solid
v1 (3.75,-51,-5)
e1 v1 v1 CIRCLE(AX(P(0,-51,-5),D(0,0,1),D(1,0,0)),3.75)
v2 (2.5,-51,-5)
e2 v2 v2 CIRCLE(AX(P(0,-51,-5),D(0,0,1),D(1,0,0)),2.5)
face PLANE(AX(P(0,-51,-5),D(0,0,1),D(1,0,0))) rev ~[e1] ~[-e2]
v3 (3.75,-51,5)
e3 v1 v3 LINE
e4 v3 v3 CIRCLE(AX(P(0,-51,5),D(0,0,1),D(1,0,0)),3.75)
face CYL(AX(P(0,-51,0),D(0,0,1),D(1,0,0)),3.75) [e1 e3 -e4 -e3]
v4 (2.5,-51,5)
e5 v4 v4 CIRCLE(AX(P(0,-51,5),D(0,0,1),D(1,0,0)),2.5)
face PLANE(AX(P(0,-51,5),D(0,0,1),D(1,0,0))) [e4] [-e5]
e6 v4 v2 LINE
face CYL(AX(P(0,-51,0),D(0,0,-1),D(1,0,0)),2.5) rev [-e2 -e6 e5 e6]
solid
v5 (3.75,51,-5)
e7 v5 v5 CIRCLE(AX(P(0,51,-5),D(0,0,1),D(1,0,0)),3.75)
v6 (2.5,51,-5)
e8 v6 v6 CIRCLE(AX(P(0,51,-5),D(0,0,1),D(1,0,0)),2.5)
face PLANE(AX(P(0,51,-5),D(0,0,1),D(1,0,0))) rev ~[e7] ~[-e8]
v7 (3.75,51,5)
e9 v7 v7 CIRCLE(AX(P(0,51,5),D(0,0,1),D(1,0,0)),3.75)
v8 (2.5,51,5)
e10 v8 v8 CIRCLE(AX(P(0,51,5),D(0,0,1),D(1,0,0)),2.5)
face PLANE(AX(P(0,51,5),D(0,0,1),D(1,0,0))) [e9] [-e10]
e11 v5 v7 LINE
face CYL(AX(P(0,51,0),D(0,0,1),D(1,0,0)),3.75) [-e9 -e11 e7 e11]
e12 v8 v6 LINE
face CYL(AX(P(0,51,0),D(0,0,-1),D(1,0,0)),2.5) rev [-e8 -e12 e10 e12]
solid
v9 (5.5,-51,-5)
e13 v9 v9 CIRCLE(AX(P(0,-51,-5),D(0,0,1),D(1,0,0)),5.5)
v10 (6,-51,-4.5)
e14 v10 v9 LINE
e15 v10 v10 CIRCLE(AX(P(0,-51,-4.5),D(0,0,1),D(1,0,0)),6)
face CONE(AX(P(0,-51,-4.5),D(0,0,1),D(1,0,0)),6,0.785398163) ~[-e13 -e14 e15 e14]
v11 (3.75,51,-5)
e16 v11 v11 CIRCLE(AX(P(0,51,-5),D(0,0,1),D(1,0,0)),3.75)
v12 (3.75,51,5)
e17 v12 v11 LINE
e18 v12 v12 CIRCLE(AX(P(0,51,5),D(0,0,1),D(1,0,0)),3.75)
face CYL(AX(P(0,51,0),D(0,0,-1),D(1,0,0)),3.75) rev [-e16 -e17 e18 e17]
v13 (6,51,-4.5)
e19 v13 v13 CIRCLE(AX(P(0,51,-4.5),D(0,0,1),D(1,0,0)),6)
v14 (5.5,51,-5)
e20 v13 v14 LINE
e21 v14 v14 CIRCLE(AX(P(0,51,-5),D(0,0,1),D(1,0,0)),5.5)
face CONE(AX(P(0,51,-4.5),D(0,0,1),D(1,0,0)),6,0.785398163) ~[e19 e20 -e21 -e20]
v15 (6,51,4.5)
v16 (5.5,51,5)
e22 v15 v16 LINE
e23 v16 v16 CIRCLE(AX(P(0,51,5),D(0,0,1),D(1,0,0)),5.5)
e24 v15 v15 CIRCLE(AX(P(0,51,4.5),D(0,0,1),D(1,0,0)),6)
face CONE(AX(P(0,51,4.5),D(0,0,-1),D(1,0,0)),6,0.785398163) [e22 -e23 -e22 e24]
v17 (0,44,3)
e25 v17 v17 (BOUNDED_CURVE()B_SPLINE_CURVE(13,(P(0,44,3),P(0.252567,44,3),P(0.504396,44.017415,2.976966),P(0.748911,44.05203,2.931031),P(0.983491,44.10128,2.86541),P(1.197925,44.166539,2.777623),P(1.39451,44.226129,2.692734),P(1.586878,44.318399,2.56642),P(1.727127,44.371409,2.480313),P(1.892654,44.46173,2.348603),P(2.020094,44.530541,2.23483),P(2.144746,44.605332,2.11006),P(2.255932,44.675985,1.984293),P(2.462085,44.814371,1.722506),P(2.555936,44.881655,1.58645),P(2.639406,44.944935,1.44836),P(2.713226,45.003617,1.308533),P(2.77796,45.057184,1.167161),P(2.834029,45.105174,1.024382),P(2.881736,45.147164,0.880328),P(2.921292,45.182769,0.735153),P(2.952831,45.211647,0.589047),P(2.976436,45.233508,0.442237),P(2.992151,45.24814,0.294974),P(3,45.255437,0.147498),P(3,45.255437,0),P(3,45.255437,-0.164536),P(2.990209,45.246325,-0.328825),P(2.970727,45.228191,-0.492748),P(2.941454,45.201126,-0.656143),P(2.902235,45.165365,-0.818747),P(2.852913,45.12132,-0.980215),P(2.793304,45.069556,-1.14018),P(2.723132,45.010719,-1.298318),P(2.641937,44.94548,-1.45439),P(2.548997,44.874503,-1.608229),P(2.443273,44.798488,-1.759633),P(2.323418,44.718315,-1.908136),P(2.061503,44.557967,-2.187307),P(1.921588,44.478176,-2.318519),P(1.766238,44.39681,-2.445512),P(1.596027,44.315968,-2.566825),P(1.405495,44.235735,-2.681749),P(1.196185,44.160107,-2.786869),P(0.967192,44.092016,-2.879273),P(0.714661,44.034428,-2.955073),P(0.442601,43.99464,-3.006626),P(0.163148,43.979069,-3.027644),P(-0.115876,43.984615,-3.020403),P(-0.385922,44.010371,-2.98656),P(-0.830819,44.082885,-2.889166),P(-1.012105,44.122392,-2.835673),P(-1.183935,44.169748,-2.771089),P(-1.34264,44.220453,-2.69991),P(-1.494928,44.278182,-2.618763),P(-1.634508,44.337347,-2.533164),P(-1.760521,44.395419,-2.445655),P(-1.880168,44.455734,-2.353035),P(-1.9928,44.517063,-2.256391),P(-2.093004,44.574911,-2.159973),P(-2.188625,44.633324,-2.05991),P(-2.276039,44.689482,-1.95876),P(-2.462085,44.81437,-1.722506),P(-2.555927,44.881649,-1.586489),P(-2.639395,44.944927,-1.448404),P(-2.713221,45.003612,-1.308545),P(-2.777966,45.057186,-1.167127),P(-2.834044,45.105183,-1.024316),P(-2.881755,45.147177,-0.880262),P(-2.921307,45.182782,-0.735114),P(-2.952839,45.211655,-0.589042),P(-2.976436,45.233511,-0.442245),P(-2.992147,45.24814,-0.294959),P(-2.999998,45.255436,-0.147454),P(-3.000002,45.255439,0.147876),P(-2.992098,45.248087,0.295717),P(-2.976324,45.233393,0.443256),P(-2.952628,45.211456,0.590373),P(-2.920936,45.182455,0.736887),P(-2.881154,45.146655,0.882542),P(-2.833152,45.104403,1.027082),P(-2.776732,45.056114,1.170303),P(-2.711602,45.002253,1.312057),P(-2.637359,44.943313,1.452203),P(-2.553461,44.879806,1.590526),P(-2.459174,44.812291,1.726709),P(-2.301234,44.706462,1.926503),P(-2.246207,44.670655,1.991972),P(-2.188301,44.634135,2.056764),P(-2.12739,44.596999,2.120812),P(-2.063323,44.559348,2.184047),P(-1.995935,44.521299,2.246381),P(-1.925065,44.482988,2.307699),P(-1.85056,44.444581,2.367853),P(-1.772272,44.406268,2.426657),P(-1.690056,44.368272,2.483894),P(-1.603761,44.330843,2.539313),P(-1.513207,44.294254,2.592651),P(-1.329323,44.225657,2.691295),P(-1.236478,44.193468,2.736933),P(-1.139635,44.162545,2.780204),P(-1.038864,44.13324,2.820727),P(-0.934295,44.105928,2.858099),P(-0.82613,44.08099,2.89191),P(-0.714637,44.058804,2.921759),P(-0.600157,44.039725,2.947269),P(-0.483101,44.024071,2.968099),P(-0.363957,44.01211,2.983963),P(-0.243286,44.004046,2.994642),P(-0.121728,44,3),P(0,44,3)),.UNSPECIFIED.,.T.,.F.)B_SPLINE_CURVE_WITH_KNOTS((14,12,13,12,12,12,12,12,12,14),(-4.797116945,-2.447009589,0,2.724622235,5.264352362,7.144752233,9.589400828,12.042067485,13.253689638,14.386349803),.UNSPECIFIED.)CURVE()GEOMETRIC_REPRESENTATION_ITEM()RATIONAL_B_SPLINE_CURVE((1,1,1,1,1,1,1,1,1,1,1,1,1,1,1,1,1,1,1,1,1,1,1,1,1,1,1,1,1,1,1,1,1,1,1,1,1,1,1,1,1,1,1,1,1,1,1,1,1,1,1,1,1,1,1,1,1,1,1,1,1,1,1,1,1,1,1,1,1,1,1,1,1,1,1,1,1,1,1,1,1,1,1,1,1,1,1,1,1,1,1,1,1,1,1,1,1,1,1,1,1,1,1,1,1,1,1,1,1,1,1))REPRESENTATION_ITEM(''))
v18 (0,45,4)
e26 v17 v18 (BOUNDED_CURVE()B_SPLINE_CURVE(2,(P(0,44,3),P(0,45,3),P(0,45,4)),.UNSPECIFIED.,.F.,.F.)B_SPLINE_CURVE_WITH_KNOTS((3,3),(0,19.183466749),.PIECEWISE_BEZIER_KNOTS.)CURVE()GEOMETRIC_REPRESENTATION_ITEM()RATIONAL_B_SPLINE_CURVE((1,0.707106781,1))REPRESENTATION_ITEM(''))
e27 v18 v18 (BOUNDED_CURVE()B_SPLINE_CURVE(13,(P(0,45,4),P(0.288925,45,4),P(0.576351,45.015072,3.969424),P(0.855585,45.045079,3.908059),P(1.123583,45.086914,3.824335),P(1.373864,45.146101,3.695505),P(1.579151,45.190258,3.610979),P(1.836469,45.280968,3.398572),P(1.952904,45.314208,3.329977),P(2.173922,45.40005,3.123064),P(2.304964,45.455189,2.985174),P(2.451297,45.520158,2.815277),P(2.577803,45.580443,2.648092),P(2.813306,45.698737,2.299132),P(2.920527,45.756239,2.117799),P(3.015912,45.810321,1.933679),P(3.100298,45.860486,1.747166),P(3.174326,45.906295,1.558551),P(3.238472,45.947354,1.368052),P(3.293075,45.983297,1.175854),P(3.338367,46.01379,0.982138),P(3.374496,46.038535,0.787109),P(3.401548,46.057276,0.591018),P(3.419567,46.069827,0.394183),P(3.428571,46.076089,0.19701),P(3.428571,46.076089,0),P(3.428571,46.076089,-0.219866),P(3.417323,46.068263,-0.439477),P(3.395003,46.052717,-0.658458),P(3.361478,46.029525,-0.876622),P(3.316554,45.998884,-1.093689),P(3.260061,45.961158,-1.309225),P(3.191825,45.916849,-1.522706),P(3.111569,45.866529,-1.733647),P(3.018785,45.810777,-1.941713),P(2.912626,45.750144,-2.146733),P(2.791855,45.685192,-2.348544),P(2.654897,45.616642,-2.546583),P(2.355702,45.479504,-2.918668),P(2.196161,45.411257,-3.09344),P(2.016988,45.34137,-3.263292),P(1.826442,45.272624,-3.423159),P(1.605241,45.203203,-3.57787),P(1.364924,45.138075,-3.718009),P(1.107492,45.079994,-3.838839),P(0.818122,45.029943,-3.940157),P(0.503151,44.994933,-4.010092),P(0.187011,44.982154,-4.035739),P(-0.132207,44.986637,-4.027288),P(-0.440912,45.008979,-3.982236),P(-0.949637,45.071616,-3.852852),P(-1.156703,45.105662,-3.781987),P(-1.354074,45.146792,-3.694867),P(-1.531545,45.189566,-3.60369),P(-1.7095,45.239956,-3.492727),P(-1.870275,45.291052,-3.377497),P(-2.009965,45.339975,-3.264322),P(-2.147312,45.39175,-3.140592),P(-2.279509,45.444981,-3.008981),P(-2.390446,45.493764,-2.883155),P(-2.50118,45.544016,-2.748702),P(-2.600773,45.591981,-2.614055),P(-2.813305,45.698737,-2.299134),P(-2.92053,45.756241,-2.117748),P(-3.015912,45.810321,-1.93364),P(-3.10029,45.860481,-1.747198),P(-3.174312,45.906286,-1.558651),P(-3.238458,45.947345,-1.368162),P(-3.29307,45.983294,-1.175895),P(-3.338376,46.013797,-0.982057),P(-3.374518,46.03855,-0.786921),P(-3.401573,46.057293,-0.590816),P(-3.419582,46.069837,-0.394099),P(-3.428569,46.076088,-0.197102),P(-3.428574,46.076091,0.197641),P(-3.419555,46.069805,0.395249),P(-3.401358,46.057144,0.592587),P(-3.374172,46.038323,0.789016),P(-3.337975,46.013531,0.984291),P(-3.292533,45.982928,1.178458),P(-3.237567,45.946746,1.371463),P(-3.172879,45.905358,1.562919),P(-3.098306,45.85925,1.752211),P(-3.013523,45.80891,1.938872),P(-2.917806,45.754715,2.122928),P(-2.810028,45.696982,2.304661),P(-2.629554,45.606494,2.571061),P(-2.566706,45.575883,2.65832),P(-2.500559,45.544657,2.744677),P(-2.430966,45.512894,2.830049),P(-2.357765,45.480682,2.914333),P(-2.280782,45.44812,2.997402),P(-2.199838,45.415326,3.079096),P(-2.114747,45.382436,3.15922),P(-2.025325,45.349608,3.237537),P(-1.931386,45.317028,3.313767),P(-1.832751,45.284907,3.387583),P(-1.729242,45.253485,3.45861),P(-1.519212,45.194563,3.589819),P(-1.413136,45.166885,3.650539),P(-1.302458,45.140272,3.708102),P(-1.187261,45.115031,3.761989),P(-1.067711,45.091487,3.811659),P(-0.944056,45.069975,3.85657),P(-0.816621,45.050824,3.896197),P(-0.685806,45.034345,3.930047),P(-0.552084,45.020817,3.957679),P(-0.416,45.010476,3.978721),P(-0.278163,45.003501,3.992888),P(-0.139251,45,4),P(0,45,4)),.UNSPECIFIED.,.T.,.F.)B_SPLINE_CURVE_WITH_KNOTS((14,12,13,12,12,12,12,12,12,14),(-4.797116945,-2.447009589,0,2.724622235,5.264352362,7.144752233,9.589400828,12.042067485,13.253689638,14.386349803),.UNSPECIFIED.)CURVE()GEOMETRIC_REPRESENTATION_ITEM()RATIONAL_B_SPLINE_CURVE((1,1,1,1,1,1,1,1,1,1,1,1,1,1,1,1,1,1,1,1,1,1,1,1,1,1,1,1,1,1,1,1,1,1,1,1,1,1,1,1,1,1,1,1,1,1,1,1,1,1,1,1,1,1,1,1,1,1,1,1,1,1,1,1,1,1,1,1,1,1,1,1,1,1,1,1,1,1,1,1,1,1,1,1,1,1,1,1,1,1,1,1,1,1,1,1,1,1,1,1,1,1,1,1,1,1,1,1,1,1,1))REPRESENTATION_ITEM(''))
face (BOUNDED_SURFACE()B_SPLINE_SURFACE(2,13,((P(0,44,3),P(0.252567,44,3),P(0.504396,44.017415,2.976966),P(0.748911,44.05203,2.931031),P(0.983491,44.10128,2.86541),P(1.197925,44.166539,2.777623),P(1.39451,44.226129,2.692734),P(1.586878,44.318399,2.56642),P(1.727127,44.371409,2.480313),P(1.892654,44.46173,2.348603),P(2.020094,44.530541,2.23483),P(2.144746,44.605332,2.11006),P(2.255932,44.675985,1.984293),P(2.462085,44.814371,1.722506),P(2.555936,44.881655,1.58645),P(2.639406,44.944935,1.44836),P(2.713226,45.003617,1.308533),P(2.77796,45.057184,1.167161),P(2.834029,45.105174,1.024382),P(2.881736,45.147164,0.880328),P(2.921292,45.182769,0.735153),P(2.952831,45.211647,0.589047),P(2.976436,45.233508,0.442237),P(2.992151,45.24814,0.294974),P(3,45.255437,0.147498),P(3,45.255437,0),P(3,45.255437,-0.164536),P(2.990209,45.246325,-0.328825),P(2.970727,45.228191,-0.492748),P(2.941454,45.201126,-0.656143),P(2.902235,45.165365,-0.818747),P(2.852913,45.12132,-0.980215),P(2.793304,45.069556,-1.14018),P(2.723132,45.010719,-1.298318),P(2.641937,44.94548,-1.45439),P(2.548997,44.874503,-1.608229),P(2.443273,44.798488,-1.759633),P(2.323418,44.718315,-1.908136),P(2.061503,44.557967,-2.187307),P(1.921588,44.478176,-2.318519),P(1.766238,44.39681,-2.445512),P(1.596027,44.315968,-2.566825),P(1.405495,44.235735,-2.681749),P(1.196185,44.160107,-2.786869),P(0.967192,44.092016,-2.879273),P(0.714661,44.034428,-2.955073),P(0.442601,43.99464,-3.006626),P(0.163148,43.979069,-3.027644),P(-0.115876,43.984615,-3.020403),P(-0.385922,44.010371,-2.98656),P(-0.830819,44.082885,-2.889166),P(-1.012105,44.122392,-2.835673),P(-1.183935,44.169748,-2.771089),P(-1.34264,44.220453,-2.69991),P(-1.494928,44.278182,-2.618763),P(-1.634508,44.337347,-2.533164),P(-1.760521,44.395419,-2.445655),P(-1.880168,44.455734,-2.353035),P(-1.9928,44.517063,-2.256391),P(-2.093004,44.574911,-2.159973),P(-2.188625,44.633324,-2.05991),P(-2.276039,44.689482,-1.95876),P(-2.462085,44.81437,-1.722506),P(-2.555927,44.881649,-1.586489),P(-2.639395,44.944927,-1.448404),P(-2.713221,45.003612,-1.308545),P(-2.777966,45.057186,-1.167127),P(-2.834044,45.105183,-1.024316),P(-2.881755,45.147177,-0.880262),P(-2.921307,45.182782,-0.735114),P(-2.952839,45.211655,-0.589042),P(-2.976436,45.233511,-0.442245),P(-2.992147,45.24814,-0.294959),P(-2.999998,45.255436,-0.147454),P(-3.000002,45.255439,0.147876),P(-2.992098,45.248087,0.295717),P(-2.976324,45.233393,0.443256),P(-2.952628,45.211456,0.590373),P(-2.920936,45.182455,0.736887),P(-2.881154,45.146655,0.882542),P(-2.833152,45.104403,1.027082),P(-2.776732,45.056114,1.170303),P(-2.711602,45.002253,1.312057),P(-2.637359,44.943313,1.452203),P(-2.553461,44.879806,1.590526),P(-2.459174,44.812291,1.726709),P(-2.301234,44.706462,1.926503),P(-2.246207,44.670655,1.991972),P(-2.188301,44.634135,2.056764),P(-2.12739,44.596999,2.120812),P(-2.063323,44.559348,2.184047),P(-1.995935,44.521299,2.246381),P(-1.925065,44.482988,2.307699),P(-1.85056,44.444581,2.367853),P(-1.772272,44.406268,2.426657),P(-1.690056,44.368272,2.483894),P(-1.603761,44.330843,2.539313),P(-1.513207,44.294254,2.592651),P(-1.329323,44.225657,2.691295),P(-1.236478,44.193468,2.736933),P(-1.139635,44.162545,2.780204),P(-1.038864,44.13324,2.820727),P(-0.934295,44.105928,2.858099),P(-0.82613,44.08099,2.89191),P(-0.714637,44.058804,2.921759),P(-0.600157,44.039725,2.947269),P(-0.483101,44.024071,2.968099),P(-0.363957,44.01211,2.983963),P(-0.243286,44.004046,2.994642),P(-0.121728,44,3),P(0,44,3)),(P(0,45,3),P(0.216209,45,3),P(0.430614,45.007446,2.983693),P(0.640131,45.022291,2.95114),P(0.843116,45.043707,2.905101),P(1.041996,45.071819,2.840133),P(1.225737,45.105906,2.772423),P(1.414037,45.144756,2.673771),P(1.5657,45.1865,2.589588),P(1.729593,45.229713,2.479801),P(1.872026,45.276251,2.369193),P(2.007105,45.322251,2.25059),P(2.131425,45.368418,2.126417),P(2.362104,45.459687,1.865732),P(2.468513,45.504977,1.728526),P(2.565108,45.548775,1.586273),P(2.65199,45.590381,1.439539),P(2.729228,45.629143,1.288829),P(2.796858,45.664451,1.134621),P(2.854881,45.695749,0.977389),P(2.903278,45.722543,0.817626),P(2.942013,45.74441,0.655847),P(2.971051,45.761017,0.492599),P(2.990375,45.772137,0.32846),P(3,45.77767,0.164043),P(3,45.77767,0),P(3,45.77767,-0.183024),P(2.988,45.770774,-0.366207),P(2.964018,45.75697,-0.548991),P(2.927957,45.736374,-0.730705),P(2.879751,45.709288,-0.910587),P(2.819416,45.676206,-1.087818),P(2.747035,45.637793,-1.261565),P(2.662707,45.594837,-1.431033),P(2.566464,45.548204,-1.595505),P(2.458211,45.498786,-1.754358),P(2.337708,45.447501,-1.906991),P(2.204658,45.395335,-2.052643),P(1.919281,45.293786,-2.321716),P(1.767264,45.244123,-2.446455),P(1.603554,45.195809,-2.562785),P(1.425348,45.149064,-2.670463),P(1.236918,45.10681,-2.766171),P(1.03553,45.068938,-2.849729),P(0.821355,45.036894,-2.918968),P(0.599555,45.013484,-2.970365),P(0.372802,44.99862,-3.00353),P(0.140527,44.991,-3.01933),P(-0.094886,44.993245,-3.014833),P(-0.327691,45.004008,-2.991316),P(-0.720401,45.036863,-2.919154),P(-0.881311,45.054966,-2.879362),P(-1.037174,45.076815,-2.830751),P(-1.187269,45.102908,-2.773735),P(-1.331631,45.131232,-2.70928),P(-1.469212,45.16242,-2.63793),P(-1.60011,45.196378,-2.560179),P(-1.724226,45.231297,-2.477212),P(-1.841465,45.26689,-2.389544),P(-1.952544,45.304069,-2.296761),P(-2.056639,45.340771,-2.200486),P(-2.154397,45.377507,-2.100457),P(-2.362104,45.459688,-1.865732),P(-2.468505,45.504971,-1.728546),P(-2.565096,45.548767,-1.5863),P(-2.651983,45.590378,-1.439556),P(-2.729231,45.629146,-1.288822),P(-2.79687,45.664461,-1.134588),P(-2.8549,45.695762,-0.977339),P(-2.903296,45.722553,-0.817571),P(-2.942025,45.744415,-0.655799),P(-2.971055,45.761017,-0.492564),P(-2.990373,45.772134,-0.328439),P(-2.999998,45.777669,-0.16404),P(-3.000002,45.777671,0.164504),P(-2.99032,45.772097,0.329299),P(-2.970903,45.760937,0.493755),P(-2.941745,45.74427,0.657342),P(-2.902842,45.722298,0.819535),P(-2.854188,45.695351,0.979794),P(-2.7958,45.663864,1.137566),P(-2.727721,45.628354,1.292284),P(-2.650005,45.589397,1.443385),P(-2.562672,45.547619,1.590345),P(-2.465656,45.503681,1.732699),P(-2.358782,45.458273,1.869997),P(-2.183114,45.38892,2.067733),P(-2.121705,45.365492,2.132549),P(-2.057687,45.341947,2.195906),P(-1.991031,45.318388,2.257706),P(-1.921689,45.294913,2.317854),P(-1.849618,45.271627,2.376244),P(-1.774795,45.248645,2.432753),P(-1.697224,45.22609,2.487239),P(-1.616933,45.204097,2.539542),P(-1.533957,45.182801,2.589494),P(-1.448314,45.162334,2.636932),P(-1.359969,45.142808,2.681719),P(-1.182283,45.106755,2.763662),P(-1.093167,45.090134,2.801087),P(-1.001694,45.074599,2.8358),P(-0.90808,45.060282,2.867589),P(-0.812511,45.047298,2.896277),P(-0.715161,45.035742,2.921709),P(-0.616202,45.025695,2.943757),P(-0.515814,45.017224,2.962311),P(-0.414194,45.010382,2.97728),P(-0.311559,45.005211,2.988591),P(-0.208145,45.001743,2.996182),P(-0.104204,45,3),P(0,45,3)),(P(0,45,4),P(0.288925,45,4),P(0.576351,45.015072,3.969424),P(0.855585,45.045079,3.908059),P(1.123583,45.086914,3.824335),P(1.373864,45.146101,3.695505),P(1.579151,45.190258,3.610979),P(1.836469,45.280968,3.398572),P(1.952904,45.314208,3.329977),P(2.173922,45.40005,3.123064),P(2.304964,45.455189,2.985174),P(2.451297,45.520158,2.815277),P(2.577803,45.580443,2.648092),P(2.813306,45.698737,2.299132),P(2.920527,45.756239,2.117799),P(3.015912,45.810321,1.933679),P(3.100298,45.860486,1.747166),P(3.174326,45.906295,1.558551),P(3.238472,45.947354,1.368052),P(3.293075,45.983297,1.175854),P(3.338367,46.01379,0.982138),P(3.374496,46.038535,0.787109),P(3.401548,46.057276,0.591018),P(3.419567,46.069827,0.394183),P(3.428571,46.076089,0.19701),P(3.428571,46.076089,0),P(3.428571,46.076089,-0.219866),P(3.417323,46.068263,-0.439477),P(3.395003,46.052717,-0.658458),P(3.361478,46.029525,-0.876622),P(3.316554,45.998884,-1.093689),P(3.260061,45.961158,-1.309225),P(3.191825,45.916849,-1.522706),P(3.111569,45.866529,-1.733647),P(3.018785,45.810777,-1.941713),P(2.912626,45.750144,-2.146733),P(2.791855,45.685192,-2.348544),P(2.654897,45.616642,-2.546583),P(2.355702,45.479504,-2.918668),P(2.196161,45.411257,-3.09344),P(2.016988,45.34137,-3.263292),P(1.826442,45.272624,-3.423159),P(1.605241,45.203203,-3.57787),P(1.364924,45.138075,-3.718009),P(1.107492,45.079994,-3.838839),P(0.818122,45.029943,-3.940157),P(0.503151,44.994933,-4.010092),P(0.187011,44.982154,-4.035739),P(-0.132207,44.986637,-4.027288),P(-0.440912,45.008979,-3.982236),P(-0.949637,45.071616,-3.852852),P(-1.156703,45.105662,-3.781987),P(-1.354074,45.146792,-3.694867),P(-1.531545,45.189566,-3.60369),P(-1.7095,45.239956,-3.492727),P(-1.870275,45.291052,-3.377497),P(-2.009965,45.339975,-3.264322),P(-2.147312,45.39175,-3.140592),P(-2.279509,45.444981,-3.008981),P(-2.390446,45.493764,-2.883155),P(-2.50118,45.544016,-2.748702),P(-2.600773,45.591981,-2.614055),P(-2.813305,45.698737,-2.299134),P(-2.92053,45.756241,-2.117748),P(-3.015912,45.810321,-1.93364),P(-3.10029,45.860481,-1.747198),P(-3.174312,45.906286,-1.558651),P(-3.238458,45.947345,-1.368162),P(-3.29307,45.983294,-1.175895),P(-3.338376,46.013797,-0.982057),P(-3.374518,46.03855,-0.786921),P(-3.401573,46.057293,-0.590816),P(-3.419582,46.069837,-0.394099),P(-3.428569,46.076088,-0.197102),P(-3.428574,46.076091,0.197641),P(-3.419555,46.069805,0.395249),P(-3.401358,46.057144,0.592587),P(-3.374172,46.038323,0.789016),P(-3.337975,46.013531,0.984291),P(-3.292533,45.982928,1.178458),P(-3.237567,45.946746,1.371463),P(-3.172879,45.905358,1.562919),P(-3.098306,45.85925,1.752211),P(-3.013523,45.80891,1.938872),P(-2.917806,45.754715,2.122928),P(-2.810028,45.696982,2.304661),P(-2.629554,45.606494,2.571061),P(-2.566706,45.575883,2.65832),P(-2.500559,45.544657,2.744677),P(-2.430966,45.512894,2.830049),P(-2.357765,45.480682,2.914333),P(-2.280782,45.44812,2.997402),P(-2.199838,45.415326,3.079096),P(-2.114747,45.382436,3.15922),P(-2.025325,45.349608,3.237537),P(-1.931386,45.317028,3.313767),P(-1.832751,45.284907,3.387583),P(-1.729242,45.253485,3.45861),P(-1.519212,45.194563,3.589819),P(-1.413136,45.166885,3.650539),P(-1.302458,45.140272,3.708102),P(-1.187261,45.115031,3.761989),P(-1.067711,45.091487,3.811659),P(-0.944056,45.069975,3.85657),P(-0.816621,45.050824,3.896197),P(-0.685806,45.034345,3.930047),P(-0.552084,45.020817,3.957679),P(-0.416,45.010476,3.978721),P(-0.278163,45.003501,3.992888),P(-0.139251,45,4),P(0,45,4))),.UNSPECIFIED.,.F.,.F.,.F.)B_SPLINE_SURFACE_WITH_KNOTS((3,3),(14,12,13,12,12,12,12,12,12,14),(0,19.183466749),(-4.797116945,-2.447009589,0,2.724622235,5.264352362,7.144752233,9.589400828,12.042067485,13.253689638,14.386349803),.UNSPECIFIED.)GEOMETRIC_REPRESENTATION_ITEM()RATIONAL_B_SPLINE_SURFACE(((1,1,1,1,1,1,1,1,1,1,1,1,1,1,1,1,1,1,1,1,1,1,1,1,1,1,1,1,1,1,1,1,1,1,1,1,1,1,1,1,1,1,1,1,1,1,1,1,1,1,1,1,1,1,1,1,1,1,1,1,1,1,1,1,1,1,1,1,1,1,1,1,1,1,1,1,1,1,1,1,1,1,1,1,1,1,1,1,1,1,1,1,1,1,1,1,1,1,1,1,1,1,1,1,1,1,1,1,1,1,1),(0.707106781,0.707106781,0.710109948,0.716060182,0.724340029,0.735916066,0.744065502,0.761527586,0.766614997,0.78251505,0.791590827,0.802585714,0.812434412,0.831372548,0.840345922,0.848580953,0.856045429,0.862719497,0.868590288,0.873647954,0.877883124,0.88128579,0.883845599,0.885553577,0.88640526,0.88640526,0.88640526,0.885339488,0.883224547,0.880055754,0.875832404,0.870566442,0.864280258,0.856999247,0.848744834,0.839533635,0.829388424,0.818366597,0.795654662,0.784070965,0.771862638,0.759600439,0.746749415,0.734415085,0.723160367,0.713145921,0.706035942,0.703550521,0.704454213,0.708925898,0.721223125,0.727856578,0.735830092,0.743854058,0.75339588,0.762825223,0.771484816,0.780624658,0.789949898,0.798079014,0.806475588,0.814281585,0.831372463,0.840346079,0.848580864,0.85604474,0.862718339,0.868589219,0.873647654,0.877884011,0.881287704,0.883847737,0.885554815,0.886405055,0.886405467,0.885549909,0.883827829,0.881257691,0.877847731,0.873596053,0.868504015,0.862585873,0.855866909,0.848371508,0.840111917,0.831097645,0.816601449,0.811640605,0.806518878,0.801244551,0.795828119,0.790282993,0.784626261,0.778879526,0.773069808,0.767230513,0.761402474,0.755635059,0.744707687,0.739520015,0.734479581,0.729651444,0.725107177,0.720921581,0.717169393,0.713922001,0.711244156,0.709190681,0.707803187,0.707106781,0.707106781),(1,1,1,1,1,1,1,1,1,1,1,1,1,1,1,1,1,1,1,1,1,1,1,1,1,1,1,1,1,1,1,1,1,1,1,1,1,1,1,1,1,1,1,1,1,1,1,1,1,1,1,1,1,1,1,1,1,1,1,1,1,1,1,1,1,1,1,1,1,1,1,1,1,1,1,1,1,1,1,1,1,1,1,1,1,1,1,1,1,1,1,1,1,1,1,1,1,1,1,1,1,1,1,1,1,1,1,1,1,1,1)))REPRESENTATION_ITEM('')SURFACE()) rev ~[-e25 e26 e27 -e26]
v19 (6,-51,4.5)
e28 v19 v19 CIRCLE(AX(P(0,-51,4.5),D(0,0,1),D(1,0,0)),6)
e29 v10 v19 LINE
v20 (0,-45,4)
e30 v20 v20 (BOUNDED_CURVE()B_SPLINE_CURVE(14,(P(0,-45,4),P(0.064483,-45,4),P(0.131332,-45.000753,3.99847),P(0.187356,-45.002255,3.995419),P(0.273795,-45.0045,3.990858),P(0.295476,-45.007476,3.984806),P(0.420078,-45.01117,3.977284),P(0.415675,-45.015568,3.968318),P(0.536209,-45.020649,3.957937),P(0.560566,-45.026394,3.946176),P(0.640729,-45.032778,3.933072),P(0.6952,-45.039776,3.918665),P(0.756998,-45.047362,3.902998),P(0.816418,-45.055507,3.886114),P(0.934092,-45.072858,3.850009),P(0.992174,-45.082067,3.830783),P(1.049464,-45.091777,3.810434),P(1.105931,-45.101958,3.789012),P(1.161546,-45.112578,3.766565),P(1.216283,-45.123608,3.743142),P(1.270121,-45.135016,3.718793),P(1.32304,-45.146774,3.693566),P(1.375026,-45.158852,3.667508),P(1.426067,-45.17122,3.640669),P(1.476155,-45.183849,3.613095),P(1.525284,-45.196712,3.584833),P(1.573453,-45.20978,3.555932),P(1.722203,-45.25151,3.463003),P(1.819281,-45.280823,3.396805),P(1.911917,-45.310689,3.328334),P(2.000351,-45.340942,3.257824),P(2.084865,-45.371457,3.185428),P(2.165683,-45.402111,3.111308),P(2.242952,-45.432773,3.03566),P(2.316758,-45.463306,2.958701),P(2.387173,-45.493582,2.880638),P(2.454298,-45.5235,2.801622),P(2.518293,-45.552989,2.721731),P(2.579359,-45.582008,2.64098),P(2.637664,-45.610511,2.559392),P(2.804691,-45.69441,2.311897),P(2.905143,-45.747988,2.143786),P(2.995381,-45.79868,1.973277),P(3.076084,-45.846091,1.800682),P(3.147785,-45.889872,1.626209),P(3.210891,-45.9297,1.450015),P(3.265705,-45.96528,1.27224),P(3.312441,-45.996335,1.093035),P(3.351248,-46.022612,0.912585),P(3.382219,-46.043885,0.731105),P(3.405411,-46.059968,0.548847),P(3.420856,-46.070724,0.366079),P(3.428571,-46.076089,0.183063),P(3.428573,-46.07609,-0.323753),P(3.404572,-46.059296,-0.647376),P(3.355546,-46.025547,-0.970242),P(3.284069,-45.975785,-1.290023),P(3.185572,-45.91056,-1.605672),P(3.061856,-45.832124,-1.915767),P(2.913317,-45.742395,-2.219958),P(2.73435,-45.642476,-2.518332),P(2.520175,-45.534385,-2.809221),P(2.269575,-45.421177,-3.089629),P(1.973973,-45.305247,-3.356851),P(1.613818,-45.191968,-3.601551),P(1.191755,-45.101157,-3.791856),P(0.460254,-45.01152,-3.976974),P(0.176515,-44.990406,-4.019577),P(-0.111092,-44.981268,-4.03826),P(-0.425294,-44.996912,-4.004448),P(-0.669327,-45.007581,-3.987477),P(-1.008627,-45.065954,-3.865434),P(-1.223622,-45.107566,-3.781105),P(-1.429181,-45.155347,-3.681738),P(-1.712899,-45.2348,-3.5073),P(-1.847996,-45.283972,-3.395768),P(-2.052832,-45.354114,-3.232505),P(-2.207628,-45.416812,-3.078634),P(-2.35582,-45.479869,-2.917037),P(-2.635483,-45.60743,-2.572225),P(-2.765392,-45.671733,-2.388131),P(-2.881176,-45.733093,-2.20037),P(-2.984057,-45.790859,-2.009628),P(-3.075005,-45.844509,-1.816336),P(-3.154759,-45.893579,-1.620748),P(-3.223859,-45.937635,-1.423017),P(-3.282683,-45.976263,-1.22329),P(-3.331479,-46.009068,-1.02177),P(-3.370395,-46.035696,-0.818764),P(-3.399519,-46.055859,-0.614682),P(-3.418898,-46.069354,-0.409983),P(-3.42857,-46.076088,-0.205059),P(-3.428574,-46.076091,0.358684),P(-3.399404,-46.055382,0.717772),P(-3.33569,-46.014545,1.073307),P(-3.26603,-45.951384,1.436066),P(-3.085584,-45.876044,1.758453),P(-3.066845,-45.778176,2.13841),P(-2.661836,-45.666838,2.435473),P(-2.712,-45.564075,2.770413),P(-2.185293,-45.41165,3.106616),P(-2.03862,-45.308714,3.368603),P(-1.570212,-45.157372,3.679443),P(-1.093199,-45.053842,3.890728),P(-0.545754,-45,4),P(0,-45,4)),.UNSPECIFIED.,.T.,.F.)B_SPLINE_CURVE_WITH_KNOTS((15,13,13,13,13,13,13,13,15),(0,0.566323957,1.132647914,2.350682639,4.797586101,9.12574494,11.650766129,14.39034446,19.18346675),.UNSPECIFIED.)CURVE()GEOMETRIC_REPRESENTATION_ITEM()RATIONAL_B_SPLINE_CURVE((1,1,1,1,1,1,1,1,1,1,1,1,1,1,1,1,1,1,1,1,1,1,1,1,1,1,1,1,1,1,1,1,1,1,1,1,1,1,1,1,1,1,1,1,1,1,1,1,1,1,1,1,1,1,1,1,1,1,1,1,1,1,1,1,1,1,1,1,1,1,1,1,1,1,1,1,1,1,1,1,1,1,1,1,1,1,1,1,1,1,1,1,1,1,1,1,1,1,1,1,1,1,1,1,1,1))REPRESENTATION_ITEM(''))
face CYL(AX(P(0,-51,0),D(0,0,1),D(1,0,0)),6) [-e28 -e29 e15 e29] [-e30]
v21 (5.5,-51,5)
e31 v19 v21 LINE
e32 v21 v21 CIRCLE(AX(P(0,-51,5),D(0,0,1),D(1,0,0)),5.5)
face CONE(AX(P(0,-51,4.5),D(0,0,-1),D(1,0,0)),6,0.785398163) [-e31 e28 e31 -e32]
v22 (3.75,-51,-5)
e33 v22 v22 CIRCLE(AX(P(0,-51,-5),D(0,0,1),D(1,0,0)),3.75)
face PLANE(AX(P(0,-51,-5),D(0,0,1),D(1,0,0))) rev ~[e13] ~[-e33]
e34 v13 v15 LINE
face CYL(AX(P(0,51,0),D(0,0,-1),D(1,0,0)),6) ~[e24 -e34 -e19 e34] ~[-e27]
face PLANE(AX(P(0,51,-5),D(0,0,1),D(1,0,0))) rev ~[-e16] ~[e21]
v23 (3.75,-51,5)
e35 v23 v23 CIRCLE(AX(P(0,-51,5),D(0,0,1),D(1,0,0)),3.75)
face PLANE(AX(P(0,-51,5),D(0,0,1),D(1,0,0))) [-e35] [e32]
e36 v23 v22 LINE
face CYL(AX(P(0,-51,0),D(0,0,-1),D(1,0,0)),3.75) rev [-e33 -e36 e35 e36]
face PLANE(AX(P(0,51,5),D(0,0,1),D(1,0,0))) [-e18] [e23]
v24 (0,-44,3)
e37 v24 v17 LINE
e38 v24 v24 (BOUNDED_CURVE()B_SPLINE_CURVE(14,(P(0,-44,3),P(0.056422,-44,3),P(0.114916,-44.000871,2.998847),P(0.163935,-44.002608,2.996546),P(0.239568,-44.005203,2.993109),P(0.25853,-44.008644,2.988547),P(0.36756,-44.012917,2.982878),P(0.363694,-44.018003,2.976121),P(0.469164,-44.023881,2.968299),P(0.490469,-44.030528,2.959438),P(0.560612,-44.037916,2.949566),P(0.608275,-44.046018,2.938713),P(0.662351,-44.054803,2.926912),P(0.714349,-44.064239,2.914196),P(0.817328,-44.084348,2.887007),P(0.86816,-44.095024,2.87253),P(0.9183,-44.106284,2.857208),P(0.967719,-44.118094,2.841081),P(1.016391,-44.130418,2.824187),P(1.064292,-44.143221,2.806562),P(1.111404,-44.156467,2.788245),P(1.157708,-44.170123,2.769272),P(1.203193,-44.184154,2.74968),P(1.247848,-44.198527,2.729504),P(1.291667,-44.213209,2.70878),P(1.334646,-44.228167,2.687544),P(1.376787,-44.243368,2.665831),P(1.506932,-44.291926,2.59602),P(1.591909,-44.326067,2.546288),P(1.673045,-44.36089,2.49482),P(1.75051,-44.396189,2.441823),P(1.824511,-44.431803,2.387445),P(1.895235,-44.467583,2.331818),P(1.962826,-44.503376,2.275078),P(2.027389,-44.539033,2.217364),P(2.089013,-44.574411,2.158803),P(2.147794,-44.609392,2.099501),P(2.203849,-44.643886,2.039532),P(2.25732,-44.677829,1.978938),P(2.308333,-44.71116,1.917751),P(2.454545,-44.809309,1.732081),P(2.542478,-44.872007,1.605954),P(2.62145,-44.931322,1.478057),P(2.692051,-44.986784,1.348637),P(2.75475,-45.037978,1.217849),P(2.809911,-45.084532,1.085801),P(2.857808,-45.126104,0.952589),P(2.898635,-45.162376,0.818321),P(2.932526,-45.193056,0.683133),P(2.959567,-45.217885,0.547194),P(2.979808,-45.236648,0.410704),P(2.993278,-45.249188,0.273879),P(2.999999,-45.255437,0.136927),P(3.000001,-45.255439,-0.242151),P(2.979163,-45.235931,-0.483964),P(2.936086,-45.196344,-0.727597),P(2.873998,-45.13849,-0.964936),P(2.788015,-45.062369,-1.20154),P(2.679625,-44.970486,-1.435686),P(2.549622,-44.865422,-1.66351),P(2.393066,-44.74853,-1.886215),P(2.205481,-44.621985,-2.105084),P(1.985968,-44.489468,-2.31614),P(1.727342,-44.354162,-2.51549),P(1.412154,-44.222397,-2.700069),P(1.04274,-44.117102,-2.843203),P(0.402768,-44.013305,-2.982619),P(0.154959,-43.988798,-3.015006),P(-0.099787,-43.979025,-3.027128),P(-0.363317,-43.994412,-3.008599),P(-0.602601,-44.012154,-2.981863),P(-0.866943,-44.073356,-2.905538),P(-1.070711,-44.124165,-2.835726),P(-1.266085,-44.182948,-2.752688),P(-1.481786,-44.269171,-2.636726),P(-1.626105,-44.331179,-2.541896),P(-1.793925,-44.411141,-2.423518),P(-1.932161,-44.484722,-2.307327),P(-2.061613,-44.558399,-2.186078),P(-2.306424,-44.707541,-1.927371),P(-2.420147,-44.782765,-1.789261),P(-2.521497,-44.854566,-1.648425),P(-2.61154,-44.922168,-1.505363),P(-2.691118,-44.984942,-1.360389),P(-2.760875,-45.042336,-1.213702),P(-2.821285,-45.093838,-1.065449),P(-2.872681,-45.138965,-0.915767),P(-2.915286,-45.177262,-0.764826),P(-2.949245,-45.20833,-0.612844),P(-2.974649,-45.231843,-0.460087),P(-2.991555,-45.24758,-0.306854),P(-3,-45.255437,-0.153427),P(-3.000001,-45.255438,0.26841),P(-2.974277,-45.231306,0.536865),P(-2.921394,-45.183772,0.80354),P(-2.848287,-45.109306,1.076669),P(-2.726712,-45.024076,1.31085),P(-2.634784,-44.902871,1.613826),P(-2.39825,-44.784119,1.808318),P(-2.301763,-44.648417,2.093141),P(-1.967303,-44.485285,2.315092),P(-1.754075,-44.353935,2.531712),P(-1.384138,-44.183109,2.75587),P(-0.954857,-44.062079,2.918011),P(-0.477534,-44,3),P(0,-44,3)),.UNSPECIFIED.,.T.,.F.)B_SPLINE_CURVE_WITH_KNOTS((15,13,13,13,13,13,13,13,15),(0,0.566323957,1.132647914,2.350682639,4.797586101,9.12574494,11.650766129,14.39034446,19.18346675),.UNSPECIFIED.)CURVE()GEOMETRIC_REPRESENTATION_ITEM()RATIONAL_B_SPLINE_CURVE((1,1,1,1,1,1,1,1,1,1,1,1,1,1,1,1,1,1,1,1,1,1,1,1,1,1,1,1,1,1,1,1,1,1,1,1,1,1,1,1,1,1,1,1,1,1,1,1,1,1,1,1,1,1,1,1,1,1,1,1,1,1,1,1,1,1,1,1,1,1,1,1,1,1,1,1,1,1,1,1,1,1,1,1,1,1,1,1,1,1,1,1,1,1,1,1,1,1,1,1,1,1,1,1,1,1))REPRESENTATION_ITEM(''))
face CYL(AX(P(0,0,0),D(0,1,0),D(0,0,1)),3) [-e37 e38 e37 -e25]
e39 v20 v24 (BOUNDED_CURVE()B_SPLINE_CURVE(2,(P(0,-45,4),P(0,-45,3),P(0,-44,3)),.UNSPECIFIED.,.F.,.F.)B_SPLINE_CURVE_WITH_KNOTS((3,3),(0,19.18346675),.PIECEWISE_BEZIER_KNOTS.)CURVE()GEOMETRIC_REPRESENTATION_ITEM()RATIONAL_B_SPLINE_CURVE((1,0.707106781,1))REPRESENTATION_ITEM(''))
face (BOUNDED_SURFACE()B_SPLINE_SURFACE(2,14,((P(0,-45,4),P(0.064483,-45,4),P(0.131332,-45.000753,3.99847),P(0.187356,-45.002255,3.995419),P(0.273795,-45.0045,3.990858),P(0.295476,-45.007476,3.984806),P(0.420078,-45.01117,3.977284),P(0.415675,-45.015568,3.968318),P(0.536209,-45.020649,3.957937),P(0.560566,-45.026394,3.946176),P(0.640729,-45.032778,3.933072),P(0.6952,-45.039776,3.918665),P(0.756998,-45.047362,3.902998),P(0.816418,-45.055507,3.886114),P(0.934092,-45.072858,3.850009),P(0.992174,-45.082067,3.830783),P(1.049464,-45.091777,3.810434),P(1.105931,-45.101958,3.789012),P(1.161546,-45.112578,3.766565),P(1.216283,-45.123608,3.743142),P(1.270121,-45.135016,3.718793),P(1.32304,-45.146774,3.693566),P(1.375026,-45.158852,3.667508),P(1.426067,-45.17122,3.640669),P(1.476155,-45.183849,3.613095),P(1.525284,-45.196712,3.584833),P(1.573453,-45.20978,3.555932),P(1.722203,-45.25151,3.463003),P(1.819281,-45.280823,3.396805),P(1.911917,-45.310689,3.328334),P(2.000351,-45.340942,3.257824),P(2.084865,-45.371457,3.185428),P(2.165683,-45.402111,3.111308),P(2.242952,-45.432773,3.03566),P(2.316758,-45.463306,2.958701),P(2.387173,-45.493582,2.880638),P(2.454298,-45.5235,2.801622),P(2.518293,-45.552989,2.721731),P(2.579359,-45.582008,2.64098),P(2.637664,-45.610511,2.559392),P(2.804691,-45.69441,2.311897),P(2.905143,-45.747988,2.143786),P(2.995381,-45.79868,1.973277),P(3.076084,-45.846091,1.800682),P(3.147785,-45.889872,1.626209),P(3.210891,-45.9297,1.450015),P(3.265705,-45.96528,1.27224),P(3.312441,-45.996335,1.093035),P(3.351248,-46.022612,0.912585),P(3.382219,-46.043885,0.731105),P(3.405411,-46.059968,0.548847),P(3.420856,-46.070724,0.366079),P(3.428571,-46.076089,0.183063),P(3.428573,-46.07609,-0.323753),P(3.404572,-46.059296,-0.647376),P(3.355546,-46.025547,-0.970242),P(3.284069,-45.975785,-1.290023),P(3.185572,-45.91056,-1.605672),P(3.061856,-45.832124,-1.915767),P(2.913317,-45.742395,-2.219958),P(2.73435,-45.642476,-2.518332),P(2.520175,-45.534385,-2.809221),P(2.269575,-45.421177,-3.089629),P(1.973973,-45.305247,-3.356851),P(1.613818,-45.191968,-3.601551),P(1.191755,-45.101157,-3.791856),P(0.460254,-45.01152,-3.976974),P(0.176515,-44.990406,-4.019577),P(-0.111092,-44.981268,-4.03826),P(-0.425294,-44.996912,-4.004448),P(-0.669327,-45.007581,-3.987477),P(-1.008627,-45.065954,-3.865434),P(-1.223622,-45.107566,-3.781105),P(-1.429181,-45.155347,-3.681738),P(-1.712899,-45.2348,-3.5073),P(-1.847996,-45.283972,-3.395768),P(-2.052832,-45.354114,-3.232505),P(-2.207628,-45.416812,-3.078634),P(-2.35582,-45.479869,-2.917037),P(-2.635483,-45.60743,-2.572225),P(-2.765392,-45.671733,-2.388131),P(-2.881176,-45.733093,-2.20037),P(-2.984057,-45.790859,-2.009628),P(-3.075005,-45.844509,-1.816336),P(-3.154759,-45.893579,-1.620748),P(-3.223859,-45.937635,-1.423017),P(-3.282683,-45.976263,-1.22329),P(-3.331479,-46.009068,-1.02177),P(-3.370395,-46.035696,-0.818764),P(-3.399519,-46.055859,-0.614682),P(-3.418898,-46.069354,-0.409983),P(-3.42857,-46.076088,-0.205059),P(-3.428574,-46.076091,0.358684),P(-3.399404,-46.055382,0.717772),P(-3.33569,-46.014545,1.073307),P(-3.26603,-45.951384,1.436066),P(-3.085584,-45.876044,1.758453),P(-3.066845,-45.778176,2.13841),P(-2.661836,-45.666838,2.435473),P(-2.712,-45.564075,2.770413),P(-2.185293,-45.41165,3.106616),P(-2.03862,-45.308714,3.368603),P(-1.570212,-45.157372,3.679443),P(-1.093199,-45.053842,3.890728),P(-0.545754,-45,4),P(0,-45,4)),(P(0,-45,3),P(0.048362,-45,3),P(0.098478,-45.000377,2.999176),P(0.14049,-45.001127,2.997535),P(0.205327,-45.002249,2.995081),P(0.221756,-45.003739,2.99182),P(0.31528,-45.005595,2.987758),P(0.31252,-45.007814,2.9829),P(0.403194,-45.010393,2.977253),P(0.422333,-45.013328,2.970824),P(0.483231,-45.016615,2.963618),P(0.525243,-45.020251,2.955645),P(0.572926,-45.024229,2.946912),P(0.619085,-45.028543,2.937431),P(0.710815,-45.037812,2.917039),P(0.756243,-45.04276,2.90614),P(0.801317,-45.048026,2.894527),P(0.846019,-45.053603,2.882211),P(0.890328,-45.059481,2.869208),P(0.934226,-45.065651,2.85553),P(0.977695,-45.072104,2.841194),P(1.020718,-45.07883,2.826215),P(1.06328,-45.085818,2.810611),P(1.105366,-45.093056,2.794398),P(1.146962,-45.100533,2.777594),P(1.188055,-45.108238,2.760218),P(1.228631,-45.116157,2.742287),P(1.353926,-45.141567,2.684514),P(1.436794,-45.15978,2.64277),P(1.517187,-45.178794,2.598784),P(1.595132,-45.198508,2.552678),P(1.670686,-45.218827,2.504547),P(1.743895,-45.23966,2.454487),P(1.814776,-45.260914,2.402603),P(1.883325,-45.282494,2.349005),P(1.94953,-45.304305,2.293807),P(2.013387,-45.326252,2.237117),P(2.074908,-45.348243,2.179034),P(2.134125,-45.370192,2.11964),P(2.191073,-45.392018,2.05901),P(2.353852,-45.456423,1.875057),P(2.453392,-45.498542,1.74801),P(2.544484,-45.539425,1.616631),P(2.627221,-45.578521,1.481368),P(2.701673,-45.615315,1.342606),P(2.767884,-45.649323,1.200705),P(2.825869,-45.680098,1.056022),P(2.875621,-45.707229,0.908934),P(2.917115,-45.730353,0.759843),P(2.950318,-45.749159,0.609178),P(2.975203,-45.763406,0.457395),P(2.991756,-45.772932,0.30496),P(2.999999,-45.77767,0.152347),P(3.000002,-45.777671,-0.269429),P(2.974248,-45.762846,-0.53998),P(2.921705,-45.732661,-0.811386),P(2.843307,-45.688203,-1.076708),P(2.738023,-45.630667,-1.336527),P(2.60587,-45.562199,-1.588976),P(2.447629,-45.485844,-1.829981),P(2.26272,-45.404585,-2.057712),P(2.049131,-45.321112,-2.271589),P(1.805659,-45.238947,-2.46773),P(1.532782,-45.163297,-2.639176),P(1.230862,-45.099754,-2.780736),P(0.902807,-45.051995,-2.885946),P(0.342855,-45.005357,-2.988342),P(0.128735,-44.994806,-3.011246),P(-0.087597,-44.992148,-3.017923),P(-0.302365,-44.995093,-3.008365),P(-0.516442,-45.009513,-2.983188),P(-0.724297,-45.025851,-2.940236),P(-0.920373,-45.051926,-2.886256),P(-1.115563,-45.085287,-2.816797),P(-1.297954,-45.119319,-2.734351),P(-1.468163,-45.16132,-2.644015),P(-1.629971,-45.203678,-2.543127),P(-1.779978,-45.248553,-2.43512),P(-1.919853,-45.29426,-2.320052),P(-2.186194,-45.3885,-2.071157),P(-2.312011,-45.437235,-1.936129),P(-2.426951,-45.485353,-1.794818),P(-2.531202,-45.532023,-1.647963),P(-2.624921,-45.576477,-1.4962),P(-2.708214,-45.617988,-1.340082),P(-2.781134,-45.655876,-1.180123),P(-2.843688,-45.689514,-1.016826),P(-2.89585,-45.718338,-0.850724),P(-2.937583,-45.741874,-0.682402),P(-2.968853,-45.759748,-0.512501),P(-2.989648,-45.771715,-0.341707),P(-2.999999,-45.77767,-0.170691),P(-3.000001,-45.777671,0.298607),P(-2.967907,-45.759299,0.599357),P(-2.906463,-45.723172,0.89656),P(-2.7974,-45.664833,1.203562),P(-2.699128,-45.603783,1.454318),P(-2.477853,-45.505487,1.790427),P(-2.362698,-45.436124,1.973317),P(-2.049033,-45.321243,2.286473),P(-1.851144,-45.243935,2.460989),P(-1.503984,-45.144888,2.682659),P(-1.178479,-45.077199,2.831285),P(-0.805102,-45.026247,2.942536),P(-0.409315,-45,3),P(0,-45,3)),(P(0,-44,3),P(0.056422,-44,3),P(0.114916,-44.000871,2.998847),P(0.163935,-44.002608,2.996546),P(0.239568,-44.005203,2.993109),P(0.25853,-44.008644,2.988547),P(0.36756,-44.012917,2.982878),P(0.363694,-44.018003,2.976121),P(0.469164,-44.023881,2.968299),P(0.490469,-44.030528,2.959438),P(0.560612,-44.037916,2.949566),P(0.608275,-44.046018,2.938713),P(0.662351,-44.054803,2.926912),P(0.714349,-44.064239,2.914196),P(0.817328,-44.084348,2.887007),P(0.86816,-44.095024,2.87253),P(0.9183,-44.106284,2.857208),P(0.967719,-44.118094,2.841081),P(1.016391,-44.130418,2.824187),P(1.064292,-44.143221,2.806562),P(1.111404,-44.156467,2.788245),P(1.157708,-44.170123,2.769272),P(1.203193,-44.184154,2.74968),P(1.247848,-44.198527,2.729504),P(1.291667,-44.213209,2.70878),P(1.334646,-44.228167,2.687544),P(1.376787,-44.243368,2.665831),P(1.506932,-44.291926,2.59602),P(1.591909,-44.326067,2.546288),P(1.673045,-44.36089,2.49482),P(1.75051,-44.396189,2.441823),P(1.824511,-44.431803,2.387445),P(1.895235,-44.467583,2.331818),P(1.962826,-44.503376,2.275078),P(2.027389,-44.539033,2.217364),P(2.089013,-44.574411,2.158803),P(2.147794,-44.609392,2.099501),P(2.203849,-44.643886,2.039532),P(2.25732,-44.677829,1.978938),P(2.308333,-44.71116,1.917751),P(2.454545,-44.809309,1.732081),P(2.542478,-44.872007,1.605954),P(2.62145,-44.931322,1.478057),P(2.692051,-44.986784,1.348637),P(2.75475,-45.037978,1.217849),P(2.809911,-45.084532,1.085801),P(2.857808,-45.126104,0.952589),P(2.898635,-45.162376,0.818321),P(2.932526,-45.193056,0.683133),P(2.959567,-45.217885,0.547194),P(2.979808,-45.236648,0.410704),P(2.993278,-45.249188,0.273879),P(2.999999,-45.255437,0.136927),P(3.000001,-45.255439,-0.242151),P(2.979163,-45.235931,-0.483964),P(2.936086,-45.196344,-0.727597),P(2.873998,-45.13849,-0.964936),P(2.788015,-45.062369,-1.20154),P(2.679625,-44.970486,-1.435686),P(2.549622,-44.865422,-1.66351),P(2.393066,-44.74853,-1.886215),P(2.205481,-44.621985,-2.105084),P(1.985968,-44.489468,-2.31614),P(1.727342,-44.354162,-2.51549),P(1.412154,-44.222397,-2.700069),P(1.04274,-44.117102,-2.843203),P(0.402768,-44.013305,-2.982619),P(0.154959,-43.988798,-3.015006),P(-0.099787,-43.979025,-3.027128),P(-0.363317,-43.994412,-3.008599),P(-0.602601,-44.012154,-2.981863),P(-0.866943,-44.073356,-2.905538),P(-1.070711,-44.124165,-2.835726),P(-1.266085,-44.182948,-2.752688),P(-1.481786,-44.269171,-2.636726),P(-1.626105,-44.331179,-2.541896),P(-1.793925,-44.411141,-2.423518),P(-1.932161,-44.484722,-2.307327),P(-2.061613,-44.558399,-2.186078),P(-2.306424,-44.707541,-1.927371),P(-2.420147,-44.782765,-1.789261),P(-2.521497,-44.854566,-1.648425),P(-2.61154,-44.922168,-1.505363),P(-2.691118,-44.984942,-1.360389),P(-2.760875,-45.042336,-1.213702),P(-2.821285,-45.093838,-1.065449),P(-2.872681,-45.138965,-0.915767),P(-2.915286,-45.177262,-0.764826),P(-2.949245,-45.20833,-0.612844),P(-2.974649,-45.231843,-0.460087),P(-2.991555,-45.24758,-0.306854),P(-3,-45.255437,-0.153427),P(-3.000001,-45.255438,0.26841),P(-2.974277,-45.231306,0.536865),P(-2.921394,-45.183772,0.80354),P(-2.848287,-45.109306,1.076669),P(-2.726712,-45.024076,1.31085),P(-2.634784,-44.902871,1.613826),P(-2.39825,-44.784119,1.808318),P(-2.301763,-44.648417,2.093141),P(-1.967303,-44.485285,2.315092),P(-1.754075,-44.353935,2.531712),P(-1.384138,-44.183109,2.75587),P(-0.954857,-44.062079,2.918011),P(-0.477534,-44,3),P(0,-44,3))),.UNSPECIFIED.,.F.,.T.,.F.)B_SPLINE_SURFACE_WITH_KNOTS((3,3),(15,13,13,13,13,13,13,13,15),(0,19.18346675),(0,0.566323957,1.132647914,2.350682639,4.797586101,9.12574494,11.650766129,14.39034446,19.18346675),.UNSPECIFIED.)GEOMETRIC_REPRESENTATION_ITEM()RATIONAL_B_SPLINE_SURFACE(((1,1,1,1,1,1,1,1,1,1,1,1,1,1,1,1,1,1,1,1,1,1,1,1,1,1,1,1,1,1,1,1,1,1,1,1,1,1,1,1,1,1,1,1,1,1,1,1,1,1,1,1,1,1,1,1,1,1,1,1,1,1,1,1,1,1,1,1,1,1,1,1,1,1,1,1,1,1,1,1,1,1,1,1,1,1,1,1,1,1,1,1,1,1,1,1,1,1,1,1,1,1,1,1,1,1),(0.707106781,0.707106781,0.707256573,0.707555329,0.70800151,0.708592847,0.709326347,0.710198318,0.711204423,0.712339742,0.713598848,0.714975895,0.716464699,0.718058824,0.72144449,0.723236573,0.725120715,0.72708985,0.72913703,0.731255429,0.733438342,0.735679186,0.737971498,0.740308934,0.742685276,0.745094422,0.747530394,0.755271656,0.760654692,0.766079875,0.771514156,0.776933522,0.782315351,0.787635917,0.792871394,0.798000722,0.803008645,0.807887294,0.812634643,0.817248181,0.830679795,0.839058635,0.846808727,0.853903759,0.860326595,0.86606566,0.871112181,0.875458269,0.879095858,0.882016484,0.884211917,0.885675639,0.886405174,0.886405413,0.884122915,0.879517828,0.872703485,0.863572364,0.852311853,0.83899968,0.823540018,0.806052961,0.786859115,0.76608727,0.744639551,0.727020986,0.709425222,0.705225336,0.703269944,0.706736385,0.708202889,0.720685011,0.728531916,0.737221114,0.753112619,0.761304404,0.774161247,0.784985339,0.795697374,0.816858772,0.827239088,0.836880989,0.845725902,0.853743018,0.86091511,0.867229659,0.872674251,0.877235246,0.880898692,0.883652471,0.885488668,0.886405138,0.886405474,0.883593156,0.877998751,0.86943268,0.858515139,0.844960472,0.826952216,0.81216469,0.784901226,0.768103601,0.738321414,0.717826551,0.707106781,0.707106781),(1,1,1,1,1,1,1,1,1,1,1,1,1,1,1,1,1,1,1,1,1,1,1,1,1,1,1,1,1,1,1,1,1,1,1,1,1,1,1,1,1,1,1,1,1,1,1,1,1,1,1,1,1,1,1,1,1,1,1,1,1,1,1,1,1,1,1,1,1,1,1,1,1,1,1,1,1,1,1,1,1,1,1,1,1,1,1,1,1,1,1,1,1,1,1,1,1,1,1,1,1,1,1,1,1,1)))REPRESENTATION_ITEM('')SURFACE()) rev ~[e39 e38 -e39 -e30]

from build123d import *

# Parameters (mm, degrees)
SKETCH1_R             = 3
BOSS_EXTRUDE1_DEPTH   = 46
SKETCH2_R             = 6
SKETCH2_R_2           = 3.75
BOSS_EXTRUDE2_DEPTH   = 5
SKETCH3_R             = 3.75
SKETCH3_R_2           = 2.5
BOSS_EXTRUDE3_DEPTH   = 5
BOSS_EXTRUDE3_2_DEPTH = 5
FILLET1_R             = 1
CHAMFER2_SIZE         = 0.5


with BuildPart() as part:
    # Sketch1 → Boss-Extrude1 (new, symmetric)
    with BuildSketch(Plane(origin=(0, 0, 0), x_dir=(1, 0, 0), z_dir=(0, 1, 0))):
        with Locations(Location((0, 0, 0), (0, 0, 270))):
            Circle(SKETCH1_R)
    extrude(amount=BOSS_EXTRUDE1_DEPTH, both=True)

    # Sketch2 → Boss-Extrude2 (add, symmetric)
    # profile 1 of 2: a face of its own
    with BuildSketch(Plane.XY):
        with Locations((0, 51)):
            Circle(SKETCH2_R)
        with Locations((0, 51)):
            Circle(SKETCH2_R_2, mode=Mode.SUBTRACT)
    # profile 2 of 2: a face of its own
    with BuildSketch(Plane.XY):
        with Locations((0, -51)):
            Circle(SKETCH2_R)
        with Locations((0, -51)):
            Circle(SKETCH2_R_2, mode=Mode.SUBTRACT)
    extrude(amount=BOSS_EXTRUDE2_DEPTH, both=True)

    # Fillet1
    fillet1_edges = [part.edges().sort_by_distance(p)[0] for p in [
        (0, -45, -3.000000001),
        (0, 45, -3.000000001),
    ]]
    fillet(fillet1_edges, radius=FILLET1_R)

    # Chamfer2
    chamfer2_edges = [part.edges().sort_by_distance(p)[0] for p in [
        (-6, -51, -5),
        (-6, -51, 5),
        (-6, 51, -5),
        (-6, 51, 5),
    ]]
    chamfer(chamfer2_edges, length=CHAMFER2_SIZE)


with BuildPart() as body_2:
    # Sketch3 → Boss-Extrude3 (new, symmetric)
    with BuildSketch(Plane.XY):
        with Locations((0, 51)):
            Circle(SKETCH3_R)
        with Locations((0, 51)):
            Circle(SKETCH3_R_2, mode=Mode.SUBTRACT)
    extrude(amount=BOSS_EXTRUDE3_DEPTH, both=True)


with BuildPart() as body_3:
    # Sketch3 → Boss-Extrude3 2 (new, symmetric)
    with BuildSketch(Plane.XY):
        with Locations((0, -51)):
            Circle(SKETCH3_R)
        with Locations((0, -51)):
            Circle(SKETCH3_R_2, mode=Mode.SUBTRACT)
    extrude(amount=BOSS_EXTRUDE3_2_DEPTH, both=True)


solid = Compound([part.part, body_2.part, body_3.part])
